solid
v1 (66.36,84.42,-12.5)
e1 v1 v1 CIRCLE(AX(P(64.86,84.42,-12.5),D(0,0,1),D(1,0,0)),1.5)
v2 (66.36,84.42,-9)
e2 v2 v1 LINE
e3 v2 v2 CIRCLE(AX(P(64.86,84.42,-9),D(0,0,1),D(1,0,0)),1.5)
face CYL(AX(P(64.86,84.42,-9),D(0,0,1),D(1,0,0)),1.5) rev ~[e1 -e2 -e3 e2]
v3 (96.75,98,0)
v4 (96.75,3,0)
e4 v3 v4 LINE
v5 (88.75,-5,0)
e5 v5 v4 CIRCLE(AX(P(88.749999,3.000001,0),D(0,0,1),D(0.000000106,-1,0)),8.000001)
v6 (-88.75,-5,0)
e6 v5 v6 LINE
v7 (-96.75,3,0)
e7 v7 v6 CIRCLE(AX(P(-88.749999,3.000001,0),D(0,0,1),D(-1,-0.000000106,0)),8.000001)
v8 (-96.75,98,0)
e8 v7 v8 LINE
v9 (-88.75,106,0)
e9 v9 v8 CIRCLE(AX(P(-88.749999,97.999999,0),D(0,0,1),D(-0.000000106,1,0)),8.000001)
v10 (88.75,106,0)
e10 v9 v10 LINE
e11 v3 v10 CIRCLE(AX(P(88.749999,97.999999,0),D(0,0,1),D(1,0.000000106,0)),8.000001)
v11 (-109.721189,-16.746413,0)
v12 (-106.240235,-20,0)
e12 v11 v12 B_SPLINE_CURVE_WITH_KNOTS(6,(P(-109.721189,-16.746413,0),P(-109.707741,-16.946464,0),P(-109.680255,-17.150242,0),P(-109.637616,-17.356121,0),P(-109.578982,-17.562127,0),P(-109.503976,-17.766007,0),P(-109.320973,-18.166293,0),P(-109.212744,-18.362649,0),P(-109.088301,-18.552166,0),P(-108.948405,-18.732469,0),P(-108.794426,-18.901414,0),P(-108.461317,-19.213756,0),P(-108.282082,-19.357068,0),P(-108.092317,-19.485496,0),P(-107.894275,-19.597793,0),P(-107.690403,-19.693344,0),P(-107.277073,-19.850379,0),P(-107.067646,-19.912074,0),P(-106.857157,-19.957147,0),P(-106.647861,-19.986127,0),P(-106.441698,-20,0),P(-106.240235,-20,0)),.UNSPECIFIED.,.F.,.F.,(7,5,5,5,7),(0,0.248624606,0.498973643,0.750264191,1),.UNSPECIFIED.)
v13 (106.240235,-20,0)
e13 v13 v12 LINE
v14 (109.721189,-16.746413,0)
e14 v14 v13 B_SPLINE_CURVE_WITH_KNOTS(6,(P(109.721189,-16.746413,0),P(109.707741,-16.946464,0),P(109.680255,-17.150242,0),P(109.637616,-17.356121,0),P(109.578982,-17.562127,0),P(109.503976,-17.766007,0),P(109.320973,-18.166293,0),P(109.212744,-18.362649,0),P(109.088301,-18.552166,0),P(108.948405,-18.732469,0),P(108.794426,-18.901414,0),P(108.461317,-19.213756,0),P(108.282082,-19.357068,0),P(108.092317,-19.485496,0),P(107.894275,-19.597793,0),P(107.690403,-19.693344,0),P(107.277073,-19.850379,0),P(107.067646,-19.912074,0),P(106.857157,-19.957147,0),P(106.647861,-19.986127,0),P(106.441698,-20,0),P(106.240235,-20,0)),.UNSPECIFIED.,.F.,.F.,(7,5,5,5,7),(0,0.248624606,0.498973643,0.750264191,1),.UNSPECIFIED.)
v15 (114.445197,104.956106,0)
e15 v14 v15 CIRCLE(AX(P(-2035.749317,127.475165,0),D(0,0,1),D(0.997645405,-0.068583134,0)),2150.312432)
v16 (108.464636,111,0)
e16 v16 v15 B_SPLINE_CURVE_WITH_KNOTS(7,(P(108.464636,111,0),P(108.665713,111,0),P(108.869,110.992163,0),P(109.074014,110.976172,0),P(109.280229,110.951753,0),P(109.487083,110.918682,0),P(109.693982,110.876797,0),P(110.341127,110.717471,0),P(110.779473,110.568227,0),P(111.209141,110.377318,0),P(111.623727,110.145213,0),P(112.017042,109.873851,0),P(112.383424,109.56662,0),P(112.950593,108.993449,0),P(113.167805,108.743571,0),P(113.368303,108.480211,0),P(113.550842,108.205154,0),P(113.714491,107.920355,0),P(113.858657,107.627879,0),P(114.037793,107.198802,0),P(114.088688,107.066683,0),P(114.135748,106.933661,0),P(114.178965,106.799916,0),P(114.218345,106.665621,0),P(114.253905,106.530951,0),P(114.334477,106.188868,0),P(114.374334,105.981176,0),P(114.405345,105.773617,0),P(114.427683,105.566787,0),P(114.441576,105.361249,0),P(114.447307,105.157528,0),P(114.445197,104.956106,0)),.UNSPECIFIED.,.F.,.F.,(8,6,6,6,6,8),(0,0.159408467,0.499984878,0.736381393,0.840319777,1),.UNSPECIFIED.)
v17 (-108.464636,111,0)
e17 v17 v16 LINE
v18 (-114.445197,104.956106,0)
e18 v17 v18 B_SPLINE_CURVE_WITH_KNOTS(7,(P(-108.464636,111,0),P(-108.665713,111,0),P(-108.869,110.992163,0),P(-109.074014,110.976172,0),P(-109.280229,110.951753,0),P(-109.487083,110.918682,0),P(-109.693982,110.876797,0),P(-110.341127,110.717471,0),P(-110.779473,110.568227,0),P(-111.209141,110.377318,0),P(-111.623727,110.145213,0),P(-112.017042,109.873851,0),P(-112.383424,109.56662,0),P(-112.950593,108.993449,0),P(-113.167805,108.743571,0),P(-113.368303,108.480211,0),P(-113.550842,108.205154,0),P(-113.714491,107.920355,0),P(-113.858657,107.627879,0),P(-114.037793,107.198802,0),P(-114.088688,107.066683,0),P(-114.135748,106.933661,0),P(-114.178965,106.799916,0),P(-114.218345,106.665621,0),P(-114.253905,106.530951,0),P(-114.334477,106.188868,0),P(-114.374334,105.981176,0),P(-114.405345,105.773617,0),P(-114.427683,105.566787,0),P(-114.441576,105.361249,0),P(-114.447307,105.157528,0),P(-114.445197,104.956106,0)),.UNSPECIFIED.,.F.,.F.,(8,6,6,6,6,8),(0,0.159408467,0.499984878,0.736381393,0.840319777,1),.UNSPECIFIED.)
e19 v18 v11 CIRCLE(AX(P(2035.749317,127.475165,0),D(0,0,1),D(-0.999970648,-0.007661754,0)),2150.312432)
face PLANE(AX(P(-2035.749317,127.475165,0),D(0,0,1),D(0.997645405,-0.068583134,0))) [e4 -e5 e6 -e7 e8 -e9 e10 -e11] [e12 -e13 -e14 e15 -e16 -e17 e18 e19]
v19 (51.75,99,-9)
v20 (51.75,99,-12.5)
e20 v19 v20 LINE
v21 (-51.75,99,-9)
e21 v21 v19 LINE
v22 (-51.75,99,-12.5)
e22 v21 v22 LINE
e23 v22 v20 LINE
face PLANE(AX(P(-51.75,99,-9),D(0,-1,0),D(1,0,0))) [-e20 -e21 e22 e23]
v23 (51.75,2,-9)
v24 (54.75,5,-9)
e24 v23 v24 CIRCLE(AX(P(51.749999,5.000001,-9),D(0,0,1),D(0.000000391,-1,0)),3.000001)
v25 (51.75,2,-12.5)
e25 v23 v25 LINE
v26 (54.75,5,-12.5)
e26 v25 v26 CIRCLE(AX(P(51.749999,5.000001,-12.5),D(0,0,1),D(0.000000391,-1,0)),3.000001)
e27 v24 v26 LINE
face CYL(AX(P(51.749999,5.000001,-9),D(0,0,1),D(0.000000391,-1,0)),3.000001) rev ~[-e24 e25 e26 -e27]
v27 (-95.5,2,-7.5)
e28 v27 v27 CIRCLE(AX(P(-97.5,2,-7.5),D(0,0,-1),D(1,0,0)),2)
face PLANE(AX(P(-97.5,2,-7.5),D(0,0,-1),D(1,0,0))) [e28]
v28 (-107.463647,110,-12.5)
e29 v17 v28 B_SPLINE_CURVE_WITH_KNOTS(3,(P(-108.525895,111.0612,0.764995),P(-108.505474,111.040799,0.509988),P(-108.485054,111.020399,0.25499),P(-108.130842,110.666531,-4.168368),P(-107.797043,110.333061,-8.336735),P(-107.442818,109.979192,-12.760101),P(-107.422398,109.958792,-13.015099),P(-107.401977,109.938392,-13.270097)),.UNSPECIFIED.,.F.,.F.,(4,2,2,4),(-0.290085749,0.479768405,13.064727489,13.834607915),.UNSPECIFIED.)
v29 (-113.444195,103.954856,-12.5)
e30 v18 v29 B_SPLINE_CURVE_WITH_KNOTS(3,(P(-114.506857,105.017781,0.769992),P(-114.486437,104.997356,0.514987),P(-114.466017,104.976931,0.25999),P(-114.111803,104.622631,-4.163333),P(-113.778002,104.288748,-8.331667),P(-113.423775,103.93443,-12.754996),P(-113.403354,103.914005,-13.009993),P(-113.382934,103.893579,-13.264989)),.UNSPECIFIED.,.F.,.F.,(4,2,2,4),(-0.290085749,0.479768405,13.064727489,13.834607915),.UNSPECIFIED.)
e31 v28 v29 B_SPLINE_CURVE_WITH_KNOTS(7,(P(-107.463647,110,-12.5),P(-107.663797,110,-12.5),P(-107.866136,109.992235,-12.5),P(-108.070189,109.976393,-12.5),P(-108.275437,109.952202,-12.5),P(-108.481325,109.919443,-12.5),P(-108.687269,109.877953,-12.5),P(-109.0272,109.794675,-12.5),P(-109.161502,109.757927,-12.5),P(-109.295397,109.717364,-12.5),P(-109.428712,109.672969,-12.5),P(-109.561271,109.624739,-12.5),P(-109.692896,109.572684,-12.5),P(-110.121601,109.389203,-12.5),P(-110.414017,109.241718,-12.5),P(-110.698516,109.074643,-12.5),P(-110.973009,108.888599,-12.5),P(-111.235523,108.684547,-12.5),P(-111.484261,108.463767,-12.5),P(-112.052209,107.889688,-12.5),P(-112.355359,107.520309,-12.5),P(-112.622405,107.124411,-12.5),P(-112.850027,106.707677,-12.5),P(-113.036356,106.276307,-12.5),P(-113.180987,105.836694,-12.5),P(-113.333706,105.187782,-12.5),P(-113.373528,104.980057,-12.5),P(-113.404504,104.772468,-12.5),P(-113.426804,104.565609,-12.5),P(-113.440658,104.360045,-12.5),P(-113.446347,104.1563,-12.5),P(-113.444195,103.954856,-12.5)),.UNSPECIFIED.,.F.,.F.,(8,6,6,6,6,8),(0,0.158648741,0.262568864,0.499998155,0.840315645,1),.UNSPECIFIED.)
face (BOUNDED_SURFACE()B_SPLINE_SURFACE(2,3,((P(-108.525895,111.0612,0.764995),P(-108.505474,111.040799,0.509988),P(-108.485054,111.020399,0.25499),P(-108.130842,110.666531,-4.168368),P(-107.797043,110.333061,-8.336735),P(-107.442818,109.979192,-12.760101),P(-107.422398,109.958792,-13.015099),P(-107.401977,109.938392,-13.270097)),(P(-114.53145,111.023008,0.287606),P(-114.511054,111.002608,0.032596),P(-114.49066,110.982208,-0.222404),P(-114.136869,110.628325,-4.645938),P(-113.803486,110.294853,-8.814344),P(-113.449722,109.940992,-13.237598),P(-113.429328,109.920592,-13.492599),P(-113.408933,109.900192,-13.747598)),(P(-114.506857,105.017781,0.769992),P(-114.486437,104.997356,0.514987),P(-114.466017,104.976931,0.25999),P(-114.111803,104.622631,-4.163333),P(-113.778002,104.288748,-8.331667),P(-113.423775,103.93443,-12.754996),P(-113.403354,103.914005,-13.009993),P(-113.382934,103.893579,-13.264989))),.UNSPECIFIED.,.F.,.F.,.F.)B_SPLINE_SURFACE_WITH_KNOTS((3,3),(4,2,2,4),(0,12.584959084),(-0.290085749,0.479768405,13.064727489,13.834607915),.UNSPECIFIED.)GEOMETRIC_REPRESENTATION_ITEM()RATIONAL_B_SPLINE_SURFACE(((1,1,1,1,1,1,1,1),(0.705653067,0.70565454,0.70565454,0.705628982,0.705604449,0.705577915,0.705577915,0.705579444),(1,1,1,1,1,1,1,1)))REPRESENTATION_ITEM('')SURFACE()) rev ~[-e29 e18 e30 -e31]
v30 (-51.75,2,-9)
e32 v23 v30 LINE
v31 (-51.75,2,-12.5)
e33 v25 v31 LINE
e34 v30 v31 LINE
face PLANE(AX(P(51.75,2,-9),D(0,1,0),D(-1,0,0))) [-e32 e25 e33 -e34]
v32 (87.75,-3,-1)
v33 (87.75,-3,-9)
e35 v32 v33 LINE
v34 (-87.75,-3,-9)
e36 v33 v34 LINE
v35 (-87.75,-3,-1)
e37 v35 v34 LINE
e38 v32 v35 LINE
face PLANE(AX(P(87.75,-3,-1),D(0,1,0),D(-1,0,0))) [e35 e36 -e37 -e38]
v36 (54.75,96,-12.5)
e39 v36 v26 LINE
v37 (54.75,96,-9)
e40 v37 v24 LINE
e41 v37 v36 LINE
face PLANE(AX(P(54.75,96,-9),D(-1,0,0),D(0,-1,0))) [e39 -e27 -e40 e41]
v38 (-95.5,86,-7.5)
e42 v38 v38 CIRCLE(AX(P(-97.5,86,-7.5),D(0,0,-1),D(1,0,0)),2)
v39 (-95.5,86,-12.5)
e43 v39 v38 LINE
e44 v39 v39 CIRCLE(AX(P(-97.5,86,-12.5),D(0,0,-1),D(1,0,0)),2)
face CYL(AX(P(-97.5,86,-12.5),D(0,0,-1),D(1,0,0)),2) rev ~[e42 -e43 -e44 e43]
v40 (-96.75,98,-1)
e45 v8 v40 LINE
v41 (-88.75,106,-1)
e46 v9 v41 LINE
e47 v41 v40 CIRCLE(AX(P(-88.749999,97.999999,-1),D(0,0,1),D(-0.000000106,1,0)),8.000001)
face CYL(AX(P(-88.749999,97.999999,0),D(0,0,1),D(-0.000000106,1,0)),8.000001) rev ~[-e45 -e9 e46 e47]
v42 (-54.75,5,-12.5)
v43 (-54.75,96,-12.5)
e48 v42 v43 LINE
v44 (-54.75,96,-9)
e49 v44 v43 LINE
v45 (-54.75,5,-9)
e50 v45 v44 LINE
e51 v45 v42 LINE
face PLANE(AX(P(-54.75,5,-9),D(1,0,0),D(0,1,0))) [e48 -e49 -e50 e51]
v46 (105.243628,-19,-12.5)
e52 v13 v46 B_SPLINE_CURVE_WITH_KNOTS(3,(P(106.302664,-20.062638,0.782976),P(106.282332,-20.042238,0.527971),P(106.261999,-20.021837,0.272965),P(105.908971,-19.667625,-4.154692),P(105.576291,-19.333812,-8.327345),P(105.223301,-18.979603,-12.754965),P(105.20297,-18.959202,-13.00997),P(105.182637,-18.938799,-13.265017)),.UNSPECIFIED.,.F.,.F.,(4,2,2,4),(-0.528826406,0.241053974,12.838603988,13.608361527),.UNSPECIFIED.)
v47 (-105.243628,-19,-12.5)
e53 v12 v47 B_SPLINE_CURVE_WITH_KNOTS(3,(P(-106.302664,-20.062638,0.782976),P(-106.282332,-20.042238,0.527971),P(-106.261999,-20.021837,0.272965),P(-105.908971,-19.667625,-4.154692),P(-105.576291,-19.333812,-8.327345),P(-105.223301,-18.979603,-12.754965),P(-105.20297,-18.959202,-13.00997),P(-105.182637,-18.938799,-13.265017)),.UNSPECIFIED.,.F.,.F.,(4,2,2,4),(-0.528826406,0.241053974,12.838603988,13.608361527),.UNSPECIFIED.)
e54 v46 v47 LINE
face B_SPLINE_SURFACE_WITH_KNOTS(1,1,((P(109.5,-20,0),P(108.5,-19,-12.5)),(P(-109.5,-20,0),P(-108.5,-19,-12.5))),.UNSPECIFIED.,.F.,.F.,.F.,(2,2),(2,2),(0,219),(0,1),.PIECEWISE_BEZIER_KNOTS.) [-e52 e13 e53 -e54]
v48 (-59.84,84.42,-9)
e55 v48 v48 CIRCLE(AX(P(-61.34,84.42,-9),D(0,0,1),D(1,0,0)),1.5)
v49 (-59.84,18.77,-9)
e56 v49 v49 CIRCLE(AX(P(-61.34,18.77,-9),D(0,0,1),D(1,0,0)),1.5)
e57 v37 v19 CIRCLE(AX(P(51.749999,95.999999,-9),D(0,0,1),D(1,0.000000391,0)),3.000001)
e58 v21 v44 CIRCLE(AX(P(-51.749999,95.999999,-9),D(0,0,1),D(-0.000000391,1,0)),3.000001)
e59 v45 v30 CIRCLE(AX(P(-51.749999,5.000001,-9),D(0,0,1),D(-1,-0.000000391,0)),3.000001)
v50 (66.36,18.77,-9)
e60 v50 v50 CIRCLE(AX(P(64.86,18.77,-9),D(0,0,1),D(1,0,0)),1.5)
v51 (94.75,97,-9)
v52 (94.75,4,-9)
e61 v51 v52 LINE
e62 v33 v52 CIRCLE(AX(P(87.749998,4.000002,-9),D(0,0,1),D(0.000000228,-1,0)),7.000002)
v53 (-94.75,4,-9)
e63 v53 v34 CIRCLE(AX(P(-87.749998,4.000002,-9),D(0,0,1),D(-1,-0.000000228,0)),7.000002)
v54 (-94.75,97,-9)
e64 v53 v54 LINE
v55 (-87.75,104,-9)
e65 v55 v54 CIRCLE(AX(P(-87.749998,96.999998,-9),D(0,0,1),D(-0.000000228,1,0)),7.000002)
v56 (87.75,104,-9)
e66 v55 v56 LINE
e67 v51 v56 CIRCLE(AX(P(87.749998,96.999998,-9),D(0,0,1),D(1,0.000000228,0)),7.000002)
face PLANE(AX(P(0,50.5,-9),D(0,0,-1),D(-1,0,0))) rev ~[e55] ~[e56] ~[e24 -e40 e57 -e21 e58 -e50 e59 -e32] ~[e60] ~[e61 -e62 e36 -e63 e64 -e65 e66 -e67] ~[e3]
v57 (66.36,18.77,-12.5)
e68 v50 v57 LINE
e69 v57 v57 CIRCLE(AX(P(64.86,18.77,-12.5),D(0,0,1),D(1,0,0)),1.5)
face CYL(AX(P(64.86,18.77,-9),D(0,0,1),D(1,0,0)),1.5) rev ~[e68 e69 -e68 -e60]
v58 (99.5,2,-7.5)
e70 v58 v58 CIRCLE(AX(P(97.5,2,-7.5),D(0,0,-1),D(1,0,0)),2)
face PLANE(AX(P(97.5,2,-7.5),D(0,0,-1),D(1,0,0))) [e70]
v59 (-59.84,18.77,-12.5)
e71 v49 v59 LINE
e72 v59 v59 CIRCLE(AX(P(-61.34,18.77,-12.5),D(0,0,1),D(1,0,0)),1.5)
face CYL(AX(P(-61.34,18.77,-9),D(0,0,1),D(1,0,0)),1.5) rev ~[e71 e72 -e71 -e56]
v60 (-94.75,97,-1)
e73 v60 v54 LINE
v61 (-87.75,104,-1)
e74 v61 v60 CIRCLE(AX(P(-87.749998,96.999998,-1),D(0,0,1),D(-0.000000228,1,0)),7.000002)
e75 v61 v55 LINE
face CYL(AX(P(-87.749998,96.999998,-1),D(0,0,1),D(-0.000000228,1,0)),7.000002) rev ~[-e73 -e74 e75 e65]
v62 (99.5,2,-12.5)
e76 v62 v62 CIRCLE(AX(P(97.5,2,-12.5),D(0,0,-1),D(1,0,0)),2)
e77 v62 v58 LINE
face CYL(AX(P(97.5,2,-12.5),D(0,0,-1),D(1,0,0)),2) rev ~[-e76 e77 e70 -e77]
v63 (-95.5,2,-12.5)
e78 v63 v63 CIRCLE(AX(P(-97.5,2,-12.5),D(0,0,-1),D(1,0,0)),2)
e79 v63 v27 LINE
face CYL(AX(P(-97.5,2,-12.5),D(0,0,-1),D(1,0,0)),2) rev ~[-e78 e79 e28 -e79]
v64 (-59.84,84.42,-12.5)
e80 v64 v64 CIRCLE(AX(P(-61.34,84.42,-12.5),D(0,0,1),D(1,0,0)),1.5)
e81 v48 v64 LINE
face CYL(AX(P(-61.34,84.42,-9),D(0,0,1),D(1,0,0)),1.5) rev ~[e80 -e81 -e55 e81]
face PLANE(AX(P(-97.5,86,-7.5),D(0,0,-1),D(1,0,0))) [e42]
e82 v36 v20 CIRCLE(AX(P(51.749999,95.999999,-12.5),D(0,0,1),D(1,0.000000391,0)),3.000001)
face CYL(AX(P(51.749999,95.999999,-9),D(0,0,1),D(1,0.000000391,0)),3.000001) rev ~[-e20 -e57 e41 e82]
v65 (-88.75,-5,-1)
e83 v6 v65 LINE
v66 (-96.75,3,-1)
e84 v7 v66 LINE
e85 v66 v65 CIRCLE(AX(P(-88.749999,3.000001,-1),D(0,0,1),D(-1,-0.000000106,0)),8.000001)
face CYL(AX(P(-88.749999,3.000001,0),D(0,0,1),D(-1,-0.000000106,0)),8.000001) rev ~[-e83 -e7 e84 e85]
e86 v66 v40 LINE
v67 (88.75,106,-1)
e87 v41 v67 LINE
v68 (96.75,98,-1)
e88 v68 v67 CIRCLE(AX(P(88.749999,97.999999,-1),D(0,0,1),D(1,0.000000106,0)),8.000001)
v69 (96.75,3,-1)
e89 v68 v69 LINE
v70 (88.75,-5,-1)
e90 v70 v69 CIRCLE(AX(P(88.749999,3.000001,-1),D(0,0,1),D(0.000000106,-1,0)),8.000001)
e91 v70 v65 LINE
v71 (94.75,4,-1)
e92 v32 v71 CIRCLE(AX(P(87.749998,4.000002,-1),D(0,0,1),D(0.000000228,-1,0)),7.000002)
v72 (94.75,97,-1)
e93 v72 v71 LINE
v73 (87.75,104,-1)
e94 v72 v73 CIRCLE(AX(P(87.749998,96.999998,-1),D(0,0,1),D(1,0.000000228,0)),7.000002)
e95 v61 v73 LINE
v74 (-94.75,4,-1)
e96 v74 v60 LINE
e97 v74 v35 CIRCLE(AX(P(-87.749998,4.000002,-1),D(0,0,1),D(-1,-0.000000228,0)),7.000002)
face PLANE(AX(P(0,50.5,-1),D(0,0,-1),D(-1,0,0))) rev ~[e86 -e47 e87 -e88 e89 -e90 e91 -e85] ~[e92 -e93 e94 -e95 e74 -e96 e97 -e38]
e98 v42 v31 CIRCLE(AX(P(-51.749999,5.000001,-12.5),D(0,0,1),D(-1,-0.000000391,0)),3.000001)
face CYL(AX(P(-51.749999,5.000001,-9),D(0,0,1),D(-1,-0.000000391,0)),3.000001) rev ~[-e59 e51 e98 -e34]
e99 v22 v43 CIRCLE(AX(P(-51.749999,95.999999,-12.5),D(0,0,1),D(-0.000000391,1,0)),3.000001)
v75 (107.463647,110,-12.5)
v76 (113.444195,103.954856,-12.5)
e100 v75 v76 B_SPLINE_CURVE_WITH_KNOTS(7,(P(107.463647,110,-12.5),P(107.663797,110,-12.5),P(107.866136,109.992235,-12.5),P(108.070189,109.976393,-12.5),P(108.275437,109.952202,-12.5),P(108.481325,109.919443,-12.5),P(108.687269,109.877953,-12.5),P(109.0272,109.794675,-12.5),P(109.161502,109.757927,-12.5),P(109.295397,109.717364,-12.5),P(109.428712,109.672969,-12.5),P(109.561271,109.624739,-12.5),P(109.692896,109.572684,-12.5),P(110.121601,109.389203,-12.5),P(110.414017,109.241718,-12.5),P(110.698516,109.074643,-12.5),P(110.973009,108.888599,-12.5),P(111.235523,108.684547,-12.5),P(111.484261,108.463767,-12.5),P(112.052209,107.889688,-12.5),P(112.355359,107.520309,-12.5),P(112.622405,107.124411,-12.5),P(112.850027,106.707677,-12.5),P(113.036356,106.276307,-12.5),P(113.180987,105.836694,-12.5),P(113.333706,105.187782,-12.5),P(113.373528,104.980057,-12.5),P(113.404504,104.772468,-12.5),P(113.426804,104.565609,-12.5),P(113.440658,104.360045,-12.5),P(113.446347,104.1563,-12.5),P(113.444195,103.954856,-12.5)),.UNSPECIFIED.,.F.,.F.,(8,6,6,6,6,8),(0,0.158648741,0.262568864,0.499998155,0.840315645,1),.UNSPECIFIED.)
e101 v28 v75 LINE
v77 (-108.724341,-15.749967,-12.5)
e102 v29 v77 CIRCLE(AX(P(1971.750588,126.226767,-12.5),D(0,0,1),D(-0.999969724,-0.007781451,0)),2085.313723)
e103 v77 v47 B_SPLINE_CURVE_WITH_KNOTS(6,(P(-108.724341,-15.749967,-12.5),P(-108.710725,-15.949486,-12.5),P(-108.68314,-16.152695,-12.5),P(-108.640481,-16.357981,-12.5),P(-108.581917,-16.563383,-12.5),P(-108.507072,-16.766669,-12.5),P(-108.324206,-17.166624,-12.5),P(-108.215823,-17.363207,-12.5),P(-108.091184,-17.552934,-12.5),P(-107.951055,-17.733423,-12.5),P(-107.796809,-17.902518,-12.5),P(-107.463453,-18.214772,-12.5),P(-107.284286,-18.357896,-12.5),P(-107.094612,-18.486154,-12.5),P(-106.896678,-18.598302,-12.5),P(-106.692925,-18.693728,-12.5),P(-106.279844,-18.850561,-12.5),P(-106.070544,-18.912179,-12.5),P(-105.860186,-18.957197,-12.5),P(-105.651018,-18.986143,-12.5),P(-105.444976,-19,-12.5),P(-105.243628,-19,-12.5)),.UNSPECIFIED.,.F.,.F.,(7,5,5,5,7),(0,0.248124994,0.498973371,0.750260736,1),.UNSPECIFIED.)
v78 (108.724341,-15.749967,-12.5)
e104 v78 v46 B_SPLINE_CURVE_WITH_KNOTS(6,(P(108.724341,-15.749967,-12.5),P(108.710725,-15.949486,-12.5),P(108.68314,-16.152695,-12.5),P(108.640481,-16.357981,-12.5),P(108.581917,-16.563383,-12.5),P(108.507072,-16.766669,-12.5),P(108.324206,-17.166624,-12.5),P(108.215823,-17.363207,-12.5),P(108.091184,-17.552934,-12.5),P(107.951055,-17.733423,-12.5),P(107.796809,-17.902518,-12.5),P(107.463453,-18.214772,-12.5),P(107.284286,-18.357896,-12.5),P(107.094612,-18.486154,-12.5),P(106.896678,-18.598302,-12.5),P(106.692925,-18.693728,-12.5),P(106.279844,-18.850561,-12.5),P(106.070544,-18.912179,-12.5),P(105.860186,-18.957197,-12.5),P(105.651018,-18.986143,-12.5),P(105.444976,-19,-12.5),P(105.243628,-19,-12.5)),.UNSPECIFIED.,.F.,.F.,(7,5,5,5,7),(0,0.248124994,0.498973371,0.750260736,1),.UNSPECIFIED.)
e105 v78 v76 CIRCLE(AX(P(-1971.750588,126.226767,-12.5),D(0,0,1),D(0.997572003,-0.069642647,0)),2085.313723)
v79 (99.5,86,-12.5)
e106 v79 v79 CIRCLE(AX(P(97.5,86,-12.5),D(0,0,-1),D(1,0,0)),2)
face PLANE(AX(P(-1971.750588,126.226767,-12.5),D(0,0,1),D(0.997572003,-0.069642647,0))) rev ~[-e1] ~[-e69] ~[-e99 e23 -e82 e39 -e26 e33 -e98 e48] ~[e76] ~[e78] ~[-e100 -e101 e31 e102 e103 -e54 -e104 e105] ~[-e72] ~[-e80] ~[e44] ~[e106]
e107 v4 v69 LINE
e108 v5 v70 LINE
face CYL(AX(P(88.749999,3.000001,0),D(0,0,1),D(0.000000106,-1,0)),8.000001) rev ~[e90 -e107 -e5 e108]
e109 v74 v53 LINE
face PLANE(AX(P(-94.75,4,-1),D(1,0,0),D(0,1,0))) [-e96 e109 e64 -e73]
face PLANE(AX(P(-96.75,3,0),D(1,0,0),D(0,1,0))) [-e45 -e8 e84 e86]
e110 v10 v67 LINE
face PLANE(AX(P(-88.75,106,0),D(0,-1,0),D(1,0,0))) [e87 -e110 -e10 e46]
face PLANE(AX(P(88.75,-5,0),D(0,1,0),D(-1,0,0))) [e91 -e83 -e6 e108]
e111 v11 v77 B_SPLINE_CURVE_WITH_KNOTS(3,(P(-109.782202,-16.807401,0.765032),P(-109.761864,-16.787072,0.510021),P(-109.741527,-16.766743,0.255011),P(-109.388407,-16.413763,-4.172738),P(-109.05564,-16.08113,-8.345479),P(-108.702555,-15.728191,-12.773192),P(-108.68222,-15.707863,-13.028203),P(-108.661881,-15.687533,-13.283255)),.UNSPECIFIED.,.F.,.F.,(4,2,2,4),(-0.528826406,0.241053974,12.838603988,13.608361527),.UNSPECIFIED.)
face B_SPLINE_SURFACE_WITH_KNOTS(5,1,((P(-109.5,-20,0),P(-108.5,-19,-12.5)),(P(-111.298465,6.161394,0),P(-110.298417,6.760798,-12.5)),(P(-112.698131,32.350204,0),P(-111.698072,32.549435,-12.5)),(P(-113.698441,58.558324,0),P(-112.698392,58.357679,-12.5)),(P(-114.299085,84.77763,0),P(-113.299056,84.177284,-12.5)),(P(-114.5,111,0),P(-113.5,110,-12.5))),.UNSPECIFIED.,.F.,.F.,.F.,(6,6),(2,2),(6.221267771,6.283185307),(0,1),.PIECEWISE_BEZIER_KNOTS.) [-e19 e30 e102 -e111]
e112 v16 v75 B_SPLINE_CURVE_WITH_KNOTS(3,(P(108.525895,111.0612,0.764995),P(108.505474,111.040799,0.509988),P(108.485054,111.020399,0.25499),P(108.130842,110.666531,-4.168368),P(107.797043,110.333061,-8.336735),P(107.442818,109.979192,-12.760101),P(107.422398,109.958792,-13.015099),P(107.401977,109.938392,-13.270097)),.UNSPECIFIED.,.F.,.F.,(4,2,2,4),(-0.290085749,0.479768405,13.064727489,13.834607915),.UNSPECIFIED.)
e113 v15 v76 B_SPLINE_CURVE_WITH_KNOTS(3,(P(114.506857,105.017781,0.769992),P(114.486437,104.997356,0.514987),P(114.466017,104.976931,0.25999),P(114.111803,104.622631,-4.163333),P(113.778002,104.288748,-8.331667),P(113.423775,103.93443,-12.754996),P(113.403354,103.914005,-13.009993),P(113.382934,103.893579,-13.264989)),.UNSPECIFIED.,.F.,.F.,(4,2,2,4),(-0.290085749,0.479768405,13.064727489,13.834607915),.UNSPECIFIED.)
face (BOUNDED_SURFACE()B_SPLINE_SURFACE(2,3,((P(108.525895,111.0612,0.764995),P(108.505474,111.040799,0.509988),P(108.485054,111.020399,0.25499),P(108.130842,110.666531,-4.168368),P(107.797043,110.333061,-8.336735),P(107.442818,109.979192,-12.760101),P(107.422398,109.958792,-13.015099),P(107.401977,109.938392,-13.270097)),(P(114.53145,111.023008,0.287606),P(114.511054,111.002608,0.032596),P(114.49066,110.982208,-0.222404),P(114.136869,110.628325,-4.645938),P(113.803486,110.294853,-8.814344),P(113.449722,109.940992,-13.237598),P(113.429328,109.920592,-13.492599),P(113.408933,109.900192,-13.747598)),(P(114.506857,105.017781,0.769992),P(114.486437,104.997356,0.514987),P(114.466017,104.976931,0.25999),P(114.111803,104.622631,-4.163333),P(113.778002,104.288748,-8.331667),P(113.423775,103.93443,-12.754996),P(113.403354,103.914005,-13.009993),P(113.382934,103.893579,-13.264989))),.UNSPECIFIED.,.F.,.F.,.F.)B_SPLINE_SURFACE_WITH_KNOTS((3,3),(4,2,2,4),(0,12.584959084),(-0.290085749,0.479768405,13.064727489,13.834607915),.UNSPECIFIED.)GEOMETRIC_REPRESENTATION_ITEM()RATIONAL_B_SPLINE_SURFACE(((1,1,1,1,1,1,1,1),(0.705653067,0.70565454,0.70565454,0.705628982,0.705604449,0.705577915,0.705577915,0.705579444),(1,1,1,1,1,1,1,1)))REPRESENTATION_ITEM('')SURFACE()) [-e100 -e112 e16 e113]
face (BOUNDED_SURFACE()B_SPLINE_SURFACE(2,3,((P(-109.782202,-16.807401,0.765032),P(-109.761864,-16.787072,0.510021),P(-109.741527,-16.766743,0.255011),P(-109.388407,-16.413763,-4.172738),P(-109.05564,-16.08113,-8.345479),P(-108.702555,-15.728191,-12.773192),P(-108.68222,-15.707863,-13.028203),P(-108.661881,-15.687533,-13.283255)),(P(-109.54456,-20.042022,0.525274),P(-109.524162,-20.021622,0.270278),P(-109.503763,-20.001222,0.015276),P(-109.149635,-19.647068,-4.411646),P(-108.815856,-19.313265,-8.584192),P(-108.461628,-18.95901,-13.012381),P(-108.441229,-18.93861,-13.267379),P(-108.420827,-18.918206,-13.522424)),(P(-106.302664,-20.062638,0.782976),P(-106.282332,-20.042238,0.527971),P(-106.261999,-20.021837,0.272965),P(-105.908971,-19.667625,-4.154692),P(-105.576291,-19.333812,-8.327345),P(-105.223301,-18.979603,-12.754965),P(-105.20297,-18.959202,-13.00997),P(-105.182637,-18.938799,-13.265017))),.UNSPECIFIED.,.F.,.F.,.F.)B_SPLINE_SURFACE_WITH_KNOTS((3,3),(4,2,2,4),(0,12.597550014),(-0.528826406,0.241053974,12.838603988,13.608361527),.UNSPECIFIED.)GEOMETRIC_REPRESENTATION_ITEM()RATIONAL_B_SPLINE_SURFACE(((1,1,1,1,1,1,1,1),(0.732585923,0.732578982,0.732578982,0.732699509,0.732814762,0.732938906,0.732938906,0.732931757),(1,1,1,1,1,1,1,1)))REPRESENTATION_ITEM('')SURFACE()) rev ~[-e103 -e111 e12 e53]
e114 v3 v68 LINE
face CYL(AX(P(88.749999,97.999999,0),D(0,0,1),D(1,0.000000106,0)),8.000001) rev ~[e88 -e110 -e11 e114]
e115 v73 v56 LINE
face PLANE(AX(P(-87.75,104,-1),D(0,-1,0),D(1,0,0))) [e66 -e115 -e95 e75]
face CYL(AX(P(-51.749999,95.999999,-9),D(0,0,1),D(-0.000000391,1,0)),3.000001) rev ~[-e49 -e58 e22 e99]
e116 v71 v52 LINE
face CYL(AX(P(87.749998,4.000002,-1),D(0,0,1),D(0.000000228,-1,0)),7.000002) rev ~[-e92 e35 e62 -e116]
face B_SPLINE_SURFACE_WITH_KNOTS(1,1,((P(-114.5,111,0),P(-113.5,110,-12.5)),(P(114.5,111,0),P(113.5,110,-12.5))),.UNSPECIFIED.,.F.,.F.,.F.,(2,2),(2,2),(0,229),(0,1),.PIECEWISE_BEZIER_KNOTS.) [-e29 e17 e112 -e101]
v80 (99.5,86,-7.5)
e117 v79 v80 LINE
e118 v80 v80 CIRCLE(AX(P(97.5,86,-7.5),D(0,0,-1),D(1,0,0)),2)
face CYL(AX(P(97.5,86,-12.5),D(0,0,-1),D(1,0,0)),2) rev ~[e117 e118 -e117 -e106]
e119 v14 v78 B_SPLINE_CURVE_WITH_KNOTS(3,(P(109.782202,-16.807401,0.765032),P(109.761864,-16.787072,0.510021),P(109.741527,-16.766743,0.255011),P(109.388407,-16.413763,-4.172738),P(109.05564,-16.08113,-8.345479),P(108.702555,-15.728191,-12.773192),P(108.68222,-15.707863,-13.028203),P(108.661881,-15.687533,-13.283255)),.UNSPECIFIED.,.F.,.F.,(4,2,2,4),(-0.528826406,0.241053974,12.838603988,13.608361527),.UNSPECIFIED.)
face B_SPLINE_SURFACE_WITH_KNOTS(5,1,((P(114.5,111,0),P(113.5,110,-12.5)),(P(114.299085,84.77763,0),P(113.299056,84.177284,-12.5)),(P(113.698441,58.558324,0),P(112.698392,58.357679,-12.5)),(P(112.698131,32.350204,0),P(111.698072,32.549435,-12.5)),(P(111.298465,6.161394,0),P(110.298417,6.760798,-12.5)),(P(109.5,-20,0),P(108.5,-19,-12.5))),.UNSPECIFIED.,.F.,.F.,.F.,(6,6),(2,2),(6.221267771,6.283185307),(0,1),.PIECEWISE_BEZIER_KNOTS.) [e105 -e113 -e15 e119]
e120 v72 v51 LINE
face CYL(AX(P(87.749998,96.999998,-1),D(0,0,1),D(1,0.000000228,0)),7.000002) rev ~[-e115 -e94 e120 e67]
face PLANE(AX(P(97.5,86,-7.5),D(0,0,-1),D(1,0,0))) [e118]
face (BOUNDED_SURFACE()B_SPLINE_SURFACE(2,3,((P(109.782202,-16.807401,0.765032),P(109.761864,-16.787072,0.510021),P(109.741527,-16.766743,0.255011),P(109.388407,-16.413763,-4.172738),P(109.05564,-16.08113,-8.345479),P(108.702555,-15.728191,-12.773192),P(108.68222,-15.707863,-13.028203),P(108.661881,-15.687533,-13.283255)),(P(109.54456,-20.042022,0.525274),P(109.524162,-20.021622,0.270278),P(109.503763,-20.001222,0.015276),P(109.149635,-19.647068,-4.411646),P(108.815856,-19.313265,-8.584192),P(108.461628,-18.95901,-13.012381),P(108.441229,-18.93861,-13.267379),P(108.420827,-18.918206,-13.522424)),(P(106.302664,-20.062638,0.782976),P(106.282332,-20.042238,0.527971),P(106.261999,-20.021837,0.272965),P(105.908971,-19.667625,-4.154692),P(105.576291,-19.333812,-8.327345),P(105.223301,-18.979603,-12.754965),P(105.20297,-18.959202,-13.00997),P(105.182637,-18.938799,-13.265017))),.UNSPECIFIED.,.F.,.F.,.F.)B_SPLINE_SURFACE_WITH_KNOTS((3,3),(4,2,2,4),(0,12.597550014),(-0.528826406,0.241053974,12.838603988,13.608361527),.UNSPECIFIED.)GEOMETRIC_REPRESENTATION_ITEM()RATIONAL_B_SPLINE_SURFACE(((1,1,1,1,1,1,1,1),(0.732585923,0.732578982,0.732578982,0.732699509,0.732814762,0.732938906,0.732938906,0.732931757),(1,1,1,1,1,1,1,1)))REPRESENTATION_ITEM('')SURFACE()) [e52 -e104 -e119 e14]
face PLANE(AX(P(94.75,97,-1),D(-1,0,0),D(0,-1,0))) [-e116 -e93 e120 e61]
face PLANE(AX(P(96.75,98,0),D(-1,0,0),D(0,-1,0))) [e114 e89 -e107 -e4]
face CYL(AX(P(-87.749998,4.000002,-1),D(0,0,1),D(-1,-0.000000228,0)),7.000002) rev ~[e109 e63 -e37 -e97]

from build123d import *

# Parameters (mm, degrees)
FILLET_R        = 6
FILLET001_R     = 3.5
POCKET_DEPTH    = 1
POCKET001_DEPTH = 8
SKETCH004_R     = 1.5
POCKET002_DEPTH = 5
POCKET003_DEPTH = 5
SKETCH006_R     = 2
POCKET004_DEPTH = 5


with BuildPart() as part:
    # Sketch → AdditiveLoft section 0
    with BuildSketch(Plane.XY):
        with BuildLine():
            Line((-114.5, 111), (114.5, 111))
            ThreePointArc((109.5, -20), (112.998546, 45.461888), (114.5, 111))
            Line((109.5, -20), (-109.5, -20))
            ThreePointArc((-114.5, 111), (-112.998546, 45.461888), (-109.5, -20))
        make_face()
    # Sketch001 → AdditiveLoft section 1
    with BuildSketch(Plane.XY.offset(-12.5)):
        with BuildLine():
            Line((-113.5, 110), (113.5, 110))
            ThreePointArc((108.5, -19), (111.9985, 45.461298), (113.5, 110))
            Line((108.5, -19), (-108.5, -19))
            ThreePointArc((-113.5, 110), (-111.9985, 45.461298), (-108.5, -19))
        make_face()
    loft()

    # Fillet
    fillet_edges = [part.edges().sort_by_distance(p)[0] for p in [
        (-114, 110.5, -6.25),
        (114, 110.5, -6.25),
    ]]
    fillet(fillet_edges, radius=FILLET_R)

    # Fillet001
    fillet001_edges = [part.edges().sort_by_distance(p)[0] for p in [
        (-109, -19.5, -6.25),
        (109, -19.5, -6.25),
    ]]
    fillet(fillet001_edges, radius=FILLET001_R)

    # Sketch002 (on Face1 of Fillet001) → Pocket (cut)
    with BuildSketch(Plane.XY):
        with BuildLine():
            Line((-88.75, 106), (88.75, 106))
            ThreePointArc((96.75, 98), (94.406854, 103.656854), (88.75, 106))
            Line((96.75, 98), (96.75, 3))
            ThreePointArc((88.75, -5), (94.406854, -2.656854), (96.75, 3))
            Line((88.75, -5), (-88.75, -5))
            ThreePointArc((-96.75, 3), (-94.406854, -2.656854), (-88.75, -5))
            Line((-96.75, 3), (-96.75, 98))
            ThreePointArc((-88.75, 106), (-94.406854, 103.656854), (-96.75, 98))
        make_face()
    extrude(amount=-POCKET_DEPTH, mode=Mode.SUBTRACT)

    # Sketch003 (on Face19 of Pocket) → Pocket001 (cut)
    with BuildSketch(Plane.XY.offset(-1)):
        with BuildLine():
            Line((-87.75, 104), (87.75, 104))
            ThreePointArc((94.75, 97), (92.699747, 101.949747), (87.75, 104))
            Line((94.75, 97), (94.75, 4))
            ThreePointArc((87.75, -3), (92.699747, -0.949747), (94.75, 4))
            Line((87.75, -3), (-87.75, -3))
            ThreePointArc((-94.75, 4), (-92.699747, -0.949747), (-87.75, -3))
            Line((-94.75, 4), (-94.75, 97))
            ThreePointArc((-87.75, 104), (-92.699747, 101.949747), (-94.75, 97))
        make_face()
    extrude(amount=-POCKET001_DEPTH, mode=Mode.SUBTRACT)

    # Sketch004 (on Face28 of Pocket001) → Pocket002 (cut)
    with BuildSketch(Plane.XY.offset(-9)):
        with Locations((-61.34, 84.42)):
            Circle(SKETCH004_R)
        with Locations((64.86, 84.42)):
            Circle(SKETCH004_R)
        with Locations((64.86, 18.77)):
            Circle(SKETCH004_R)
        with Locations((-61.34, 18.77)):
            Circle(SKETCH004_R)
    extrude(amount=-POCKET002_DEPTH, mode=Mode.SUBTRACT)

    # Sketch005 (on Face32 of Pocket002) → Pocket003 (cut)
    with BuildSketch(Plane.XY.offset(-9)):
        with BuildLine():
            Line((-51.75, 99), (51.75, 99))
            ThreePointArc((54.75, 96), (53.87132, 98.12132), (51.75, 99))
            Line((54.75, 96), (54.75, 5))
            ThreePointArc((51.75, 2), (53.87132, 2.87868), (54.75, 5))
            Line((51.75, 2), (-51.75, 2))
            ThreePointArc((-54.75, 5), (-53.87132, 2.87868), (-51.75, 2))
            Line((-54.75, 5), (-54.75, 96))
            ThreePointArc((-51.75, 99), (-53.87132, 98.12132), (-54.75, 96))
        make_face()
    extrude(amount=-POCKET003_DEPTH, mode=Mode.SUBTRACT)

    # Sketch006 (on Face18 of Pocket003) → Pocket004 (cut)
    with BuildSketch(Plane(origin=(0, 0, -12.5), x_dir=(1, 0, 0), z_dir=(0, 0, -1))):
        with Locations((97.5, -86)):
            Circle(SKETCH006_R)
        with Locations((97.5, -2)):
            Circle(SKETCH006_R)
        with Locations((-97.5, -2)):
            Circle(SKETCH006_R)
        with Locations((-97.5, -86)):
            Circle(SKETCH006_R)
    extrude(amount=-POCKET004_DEPTH, mode=Mode.SUBTRACT)


solid = part.part
